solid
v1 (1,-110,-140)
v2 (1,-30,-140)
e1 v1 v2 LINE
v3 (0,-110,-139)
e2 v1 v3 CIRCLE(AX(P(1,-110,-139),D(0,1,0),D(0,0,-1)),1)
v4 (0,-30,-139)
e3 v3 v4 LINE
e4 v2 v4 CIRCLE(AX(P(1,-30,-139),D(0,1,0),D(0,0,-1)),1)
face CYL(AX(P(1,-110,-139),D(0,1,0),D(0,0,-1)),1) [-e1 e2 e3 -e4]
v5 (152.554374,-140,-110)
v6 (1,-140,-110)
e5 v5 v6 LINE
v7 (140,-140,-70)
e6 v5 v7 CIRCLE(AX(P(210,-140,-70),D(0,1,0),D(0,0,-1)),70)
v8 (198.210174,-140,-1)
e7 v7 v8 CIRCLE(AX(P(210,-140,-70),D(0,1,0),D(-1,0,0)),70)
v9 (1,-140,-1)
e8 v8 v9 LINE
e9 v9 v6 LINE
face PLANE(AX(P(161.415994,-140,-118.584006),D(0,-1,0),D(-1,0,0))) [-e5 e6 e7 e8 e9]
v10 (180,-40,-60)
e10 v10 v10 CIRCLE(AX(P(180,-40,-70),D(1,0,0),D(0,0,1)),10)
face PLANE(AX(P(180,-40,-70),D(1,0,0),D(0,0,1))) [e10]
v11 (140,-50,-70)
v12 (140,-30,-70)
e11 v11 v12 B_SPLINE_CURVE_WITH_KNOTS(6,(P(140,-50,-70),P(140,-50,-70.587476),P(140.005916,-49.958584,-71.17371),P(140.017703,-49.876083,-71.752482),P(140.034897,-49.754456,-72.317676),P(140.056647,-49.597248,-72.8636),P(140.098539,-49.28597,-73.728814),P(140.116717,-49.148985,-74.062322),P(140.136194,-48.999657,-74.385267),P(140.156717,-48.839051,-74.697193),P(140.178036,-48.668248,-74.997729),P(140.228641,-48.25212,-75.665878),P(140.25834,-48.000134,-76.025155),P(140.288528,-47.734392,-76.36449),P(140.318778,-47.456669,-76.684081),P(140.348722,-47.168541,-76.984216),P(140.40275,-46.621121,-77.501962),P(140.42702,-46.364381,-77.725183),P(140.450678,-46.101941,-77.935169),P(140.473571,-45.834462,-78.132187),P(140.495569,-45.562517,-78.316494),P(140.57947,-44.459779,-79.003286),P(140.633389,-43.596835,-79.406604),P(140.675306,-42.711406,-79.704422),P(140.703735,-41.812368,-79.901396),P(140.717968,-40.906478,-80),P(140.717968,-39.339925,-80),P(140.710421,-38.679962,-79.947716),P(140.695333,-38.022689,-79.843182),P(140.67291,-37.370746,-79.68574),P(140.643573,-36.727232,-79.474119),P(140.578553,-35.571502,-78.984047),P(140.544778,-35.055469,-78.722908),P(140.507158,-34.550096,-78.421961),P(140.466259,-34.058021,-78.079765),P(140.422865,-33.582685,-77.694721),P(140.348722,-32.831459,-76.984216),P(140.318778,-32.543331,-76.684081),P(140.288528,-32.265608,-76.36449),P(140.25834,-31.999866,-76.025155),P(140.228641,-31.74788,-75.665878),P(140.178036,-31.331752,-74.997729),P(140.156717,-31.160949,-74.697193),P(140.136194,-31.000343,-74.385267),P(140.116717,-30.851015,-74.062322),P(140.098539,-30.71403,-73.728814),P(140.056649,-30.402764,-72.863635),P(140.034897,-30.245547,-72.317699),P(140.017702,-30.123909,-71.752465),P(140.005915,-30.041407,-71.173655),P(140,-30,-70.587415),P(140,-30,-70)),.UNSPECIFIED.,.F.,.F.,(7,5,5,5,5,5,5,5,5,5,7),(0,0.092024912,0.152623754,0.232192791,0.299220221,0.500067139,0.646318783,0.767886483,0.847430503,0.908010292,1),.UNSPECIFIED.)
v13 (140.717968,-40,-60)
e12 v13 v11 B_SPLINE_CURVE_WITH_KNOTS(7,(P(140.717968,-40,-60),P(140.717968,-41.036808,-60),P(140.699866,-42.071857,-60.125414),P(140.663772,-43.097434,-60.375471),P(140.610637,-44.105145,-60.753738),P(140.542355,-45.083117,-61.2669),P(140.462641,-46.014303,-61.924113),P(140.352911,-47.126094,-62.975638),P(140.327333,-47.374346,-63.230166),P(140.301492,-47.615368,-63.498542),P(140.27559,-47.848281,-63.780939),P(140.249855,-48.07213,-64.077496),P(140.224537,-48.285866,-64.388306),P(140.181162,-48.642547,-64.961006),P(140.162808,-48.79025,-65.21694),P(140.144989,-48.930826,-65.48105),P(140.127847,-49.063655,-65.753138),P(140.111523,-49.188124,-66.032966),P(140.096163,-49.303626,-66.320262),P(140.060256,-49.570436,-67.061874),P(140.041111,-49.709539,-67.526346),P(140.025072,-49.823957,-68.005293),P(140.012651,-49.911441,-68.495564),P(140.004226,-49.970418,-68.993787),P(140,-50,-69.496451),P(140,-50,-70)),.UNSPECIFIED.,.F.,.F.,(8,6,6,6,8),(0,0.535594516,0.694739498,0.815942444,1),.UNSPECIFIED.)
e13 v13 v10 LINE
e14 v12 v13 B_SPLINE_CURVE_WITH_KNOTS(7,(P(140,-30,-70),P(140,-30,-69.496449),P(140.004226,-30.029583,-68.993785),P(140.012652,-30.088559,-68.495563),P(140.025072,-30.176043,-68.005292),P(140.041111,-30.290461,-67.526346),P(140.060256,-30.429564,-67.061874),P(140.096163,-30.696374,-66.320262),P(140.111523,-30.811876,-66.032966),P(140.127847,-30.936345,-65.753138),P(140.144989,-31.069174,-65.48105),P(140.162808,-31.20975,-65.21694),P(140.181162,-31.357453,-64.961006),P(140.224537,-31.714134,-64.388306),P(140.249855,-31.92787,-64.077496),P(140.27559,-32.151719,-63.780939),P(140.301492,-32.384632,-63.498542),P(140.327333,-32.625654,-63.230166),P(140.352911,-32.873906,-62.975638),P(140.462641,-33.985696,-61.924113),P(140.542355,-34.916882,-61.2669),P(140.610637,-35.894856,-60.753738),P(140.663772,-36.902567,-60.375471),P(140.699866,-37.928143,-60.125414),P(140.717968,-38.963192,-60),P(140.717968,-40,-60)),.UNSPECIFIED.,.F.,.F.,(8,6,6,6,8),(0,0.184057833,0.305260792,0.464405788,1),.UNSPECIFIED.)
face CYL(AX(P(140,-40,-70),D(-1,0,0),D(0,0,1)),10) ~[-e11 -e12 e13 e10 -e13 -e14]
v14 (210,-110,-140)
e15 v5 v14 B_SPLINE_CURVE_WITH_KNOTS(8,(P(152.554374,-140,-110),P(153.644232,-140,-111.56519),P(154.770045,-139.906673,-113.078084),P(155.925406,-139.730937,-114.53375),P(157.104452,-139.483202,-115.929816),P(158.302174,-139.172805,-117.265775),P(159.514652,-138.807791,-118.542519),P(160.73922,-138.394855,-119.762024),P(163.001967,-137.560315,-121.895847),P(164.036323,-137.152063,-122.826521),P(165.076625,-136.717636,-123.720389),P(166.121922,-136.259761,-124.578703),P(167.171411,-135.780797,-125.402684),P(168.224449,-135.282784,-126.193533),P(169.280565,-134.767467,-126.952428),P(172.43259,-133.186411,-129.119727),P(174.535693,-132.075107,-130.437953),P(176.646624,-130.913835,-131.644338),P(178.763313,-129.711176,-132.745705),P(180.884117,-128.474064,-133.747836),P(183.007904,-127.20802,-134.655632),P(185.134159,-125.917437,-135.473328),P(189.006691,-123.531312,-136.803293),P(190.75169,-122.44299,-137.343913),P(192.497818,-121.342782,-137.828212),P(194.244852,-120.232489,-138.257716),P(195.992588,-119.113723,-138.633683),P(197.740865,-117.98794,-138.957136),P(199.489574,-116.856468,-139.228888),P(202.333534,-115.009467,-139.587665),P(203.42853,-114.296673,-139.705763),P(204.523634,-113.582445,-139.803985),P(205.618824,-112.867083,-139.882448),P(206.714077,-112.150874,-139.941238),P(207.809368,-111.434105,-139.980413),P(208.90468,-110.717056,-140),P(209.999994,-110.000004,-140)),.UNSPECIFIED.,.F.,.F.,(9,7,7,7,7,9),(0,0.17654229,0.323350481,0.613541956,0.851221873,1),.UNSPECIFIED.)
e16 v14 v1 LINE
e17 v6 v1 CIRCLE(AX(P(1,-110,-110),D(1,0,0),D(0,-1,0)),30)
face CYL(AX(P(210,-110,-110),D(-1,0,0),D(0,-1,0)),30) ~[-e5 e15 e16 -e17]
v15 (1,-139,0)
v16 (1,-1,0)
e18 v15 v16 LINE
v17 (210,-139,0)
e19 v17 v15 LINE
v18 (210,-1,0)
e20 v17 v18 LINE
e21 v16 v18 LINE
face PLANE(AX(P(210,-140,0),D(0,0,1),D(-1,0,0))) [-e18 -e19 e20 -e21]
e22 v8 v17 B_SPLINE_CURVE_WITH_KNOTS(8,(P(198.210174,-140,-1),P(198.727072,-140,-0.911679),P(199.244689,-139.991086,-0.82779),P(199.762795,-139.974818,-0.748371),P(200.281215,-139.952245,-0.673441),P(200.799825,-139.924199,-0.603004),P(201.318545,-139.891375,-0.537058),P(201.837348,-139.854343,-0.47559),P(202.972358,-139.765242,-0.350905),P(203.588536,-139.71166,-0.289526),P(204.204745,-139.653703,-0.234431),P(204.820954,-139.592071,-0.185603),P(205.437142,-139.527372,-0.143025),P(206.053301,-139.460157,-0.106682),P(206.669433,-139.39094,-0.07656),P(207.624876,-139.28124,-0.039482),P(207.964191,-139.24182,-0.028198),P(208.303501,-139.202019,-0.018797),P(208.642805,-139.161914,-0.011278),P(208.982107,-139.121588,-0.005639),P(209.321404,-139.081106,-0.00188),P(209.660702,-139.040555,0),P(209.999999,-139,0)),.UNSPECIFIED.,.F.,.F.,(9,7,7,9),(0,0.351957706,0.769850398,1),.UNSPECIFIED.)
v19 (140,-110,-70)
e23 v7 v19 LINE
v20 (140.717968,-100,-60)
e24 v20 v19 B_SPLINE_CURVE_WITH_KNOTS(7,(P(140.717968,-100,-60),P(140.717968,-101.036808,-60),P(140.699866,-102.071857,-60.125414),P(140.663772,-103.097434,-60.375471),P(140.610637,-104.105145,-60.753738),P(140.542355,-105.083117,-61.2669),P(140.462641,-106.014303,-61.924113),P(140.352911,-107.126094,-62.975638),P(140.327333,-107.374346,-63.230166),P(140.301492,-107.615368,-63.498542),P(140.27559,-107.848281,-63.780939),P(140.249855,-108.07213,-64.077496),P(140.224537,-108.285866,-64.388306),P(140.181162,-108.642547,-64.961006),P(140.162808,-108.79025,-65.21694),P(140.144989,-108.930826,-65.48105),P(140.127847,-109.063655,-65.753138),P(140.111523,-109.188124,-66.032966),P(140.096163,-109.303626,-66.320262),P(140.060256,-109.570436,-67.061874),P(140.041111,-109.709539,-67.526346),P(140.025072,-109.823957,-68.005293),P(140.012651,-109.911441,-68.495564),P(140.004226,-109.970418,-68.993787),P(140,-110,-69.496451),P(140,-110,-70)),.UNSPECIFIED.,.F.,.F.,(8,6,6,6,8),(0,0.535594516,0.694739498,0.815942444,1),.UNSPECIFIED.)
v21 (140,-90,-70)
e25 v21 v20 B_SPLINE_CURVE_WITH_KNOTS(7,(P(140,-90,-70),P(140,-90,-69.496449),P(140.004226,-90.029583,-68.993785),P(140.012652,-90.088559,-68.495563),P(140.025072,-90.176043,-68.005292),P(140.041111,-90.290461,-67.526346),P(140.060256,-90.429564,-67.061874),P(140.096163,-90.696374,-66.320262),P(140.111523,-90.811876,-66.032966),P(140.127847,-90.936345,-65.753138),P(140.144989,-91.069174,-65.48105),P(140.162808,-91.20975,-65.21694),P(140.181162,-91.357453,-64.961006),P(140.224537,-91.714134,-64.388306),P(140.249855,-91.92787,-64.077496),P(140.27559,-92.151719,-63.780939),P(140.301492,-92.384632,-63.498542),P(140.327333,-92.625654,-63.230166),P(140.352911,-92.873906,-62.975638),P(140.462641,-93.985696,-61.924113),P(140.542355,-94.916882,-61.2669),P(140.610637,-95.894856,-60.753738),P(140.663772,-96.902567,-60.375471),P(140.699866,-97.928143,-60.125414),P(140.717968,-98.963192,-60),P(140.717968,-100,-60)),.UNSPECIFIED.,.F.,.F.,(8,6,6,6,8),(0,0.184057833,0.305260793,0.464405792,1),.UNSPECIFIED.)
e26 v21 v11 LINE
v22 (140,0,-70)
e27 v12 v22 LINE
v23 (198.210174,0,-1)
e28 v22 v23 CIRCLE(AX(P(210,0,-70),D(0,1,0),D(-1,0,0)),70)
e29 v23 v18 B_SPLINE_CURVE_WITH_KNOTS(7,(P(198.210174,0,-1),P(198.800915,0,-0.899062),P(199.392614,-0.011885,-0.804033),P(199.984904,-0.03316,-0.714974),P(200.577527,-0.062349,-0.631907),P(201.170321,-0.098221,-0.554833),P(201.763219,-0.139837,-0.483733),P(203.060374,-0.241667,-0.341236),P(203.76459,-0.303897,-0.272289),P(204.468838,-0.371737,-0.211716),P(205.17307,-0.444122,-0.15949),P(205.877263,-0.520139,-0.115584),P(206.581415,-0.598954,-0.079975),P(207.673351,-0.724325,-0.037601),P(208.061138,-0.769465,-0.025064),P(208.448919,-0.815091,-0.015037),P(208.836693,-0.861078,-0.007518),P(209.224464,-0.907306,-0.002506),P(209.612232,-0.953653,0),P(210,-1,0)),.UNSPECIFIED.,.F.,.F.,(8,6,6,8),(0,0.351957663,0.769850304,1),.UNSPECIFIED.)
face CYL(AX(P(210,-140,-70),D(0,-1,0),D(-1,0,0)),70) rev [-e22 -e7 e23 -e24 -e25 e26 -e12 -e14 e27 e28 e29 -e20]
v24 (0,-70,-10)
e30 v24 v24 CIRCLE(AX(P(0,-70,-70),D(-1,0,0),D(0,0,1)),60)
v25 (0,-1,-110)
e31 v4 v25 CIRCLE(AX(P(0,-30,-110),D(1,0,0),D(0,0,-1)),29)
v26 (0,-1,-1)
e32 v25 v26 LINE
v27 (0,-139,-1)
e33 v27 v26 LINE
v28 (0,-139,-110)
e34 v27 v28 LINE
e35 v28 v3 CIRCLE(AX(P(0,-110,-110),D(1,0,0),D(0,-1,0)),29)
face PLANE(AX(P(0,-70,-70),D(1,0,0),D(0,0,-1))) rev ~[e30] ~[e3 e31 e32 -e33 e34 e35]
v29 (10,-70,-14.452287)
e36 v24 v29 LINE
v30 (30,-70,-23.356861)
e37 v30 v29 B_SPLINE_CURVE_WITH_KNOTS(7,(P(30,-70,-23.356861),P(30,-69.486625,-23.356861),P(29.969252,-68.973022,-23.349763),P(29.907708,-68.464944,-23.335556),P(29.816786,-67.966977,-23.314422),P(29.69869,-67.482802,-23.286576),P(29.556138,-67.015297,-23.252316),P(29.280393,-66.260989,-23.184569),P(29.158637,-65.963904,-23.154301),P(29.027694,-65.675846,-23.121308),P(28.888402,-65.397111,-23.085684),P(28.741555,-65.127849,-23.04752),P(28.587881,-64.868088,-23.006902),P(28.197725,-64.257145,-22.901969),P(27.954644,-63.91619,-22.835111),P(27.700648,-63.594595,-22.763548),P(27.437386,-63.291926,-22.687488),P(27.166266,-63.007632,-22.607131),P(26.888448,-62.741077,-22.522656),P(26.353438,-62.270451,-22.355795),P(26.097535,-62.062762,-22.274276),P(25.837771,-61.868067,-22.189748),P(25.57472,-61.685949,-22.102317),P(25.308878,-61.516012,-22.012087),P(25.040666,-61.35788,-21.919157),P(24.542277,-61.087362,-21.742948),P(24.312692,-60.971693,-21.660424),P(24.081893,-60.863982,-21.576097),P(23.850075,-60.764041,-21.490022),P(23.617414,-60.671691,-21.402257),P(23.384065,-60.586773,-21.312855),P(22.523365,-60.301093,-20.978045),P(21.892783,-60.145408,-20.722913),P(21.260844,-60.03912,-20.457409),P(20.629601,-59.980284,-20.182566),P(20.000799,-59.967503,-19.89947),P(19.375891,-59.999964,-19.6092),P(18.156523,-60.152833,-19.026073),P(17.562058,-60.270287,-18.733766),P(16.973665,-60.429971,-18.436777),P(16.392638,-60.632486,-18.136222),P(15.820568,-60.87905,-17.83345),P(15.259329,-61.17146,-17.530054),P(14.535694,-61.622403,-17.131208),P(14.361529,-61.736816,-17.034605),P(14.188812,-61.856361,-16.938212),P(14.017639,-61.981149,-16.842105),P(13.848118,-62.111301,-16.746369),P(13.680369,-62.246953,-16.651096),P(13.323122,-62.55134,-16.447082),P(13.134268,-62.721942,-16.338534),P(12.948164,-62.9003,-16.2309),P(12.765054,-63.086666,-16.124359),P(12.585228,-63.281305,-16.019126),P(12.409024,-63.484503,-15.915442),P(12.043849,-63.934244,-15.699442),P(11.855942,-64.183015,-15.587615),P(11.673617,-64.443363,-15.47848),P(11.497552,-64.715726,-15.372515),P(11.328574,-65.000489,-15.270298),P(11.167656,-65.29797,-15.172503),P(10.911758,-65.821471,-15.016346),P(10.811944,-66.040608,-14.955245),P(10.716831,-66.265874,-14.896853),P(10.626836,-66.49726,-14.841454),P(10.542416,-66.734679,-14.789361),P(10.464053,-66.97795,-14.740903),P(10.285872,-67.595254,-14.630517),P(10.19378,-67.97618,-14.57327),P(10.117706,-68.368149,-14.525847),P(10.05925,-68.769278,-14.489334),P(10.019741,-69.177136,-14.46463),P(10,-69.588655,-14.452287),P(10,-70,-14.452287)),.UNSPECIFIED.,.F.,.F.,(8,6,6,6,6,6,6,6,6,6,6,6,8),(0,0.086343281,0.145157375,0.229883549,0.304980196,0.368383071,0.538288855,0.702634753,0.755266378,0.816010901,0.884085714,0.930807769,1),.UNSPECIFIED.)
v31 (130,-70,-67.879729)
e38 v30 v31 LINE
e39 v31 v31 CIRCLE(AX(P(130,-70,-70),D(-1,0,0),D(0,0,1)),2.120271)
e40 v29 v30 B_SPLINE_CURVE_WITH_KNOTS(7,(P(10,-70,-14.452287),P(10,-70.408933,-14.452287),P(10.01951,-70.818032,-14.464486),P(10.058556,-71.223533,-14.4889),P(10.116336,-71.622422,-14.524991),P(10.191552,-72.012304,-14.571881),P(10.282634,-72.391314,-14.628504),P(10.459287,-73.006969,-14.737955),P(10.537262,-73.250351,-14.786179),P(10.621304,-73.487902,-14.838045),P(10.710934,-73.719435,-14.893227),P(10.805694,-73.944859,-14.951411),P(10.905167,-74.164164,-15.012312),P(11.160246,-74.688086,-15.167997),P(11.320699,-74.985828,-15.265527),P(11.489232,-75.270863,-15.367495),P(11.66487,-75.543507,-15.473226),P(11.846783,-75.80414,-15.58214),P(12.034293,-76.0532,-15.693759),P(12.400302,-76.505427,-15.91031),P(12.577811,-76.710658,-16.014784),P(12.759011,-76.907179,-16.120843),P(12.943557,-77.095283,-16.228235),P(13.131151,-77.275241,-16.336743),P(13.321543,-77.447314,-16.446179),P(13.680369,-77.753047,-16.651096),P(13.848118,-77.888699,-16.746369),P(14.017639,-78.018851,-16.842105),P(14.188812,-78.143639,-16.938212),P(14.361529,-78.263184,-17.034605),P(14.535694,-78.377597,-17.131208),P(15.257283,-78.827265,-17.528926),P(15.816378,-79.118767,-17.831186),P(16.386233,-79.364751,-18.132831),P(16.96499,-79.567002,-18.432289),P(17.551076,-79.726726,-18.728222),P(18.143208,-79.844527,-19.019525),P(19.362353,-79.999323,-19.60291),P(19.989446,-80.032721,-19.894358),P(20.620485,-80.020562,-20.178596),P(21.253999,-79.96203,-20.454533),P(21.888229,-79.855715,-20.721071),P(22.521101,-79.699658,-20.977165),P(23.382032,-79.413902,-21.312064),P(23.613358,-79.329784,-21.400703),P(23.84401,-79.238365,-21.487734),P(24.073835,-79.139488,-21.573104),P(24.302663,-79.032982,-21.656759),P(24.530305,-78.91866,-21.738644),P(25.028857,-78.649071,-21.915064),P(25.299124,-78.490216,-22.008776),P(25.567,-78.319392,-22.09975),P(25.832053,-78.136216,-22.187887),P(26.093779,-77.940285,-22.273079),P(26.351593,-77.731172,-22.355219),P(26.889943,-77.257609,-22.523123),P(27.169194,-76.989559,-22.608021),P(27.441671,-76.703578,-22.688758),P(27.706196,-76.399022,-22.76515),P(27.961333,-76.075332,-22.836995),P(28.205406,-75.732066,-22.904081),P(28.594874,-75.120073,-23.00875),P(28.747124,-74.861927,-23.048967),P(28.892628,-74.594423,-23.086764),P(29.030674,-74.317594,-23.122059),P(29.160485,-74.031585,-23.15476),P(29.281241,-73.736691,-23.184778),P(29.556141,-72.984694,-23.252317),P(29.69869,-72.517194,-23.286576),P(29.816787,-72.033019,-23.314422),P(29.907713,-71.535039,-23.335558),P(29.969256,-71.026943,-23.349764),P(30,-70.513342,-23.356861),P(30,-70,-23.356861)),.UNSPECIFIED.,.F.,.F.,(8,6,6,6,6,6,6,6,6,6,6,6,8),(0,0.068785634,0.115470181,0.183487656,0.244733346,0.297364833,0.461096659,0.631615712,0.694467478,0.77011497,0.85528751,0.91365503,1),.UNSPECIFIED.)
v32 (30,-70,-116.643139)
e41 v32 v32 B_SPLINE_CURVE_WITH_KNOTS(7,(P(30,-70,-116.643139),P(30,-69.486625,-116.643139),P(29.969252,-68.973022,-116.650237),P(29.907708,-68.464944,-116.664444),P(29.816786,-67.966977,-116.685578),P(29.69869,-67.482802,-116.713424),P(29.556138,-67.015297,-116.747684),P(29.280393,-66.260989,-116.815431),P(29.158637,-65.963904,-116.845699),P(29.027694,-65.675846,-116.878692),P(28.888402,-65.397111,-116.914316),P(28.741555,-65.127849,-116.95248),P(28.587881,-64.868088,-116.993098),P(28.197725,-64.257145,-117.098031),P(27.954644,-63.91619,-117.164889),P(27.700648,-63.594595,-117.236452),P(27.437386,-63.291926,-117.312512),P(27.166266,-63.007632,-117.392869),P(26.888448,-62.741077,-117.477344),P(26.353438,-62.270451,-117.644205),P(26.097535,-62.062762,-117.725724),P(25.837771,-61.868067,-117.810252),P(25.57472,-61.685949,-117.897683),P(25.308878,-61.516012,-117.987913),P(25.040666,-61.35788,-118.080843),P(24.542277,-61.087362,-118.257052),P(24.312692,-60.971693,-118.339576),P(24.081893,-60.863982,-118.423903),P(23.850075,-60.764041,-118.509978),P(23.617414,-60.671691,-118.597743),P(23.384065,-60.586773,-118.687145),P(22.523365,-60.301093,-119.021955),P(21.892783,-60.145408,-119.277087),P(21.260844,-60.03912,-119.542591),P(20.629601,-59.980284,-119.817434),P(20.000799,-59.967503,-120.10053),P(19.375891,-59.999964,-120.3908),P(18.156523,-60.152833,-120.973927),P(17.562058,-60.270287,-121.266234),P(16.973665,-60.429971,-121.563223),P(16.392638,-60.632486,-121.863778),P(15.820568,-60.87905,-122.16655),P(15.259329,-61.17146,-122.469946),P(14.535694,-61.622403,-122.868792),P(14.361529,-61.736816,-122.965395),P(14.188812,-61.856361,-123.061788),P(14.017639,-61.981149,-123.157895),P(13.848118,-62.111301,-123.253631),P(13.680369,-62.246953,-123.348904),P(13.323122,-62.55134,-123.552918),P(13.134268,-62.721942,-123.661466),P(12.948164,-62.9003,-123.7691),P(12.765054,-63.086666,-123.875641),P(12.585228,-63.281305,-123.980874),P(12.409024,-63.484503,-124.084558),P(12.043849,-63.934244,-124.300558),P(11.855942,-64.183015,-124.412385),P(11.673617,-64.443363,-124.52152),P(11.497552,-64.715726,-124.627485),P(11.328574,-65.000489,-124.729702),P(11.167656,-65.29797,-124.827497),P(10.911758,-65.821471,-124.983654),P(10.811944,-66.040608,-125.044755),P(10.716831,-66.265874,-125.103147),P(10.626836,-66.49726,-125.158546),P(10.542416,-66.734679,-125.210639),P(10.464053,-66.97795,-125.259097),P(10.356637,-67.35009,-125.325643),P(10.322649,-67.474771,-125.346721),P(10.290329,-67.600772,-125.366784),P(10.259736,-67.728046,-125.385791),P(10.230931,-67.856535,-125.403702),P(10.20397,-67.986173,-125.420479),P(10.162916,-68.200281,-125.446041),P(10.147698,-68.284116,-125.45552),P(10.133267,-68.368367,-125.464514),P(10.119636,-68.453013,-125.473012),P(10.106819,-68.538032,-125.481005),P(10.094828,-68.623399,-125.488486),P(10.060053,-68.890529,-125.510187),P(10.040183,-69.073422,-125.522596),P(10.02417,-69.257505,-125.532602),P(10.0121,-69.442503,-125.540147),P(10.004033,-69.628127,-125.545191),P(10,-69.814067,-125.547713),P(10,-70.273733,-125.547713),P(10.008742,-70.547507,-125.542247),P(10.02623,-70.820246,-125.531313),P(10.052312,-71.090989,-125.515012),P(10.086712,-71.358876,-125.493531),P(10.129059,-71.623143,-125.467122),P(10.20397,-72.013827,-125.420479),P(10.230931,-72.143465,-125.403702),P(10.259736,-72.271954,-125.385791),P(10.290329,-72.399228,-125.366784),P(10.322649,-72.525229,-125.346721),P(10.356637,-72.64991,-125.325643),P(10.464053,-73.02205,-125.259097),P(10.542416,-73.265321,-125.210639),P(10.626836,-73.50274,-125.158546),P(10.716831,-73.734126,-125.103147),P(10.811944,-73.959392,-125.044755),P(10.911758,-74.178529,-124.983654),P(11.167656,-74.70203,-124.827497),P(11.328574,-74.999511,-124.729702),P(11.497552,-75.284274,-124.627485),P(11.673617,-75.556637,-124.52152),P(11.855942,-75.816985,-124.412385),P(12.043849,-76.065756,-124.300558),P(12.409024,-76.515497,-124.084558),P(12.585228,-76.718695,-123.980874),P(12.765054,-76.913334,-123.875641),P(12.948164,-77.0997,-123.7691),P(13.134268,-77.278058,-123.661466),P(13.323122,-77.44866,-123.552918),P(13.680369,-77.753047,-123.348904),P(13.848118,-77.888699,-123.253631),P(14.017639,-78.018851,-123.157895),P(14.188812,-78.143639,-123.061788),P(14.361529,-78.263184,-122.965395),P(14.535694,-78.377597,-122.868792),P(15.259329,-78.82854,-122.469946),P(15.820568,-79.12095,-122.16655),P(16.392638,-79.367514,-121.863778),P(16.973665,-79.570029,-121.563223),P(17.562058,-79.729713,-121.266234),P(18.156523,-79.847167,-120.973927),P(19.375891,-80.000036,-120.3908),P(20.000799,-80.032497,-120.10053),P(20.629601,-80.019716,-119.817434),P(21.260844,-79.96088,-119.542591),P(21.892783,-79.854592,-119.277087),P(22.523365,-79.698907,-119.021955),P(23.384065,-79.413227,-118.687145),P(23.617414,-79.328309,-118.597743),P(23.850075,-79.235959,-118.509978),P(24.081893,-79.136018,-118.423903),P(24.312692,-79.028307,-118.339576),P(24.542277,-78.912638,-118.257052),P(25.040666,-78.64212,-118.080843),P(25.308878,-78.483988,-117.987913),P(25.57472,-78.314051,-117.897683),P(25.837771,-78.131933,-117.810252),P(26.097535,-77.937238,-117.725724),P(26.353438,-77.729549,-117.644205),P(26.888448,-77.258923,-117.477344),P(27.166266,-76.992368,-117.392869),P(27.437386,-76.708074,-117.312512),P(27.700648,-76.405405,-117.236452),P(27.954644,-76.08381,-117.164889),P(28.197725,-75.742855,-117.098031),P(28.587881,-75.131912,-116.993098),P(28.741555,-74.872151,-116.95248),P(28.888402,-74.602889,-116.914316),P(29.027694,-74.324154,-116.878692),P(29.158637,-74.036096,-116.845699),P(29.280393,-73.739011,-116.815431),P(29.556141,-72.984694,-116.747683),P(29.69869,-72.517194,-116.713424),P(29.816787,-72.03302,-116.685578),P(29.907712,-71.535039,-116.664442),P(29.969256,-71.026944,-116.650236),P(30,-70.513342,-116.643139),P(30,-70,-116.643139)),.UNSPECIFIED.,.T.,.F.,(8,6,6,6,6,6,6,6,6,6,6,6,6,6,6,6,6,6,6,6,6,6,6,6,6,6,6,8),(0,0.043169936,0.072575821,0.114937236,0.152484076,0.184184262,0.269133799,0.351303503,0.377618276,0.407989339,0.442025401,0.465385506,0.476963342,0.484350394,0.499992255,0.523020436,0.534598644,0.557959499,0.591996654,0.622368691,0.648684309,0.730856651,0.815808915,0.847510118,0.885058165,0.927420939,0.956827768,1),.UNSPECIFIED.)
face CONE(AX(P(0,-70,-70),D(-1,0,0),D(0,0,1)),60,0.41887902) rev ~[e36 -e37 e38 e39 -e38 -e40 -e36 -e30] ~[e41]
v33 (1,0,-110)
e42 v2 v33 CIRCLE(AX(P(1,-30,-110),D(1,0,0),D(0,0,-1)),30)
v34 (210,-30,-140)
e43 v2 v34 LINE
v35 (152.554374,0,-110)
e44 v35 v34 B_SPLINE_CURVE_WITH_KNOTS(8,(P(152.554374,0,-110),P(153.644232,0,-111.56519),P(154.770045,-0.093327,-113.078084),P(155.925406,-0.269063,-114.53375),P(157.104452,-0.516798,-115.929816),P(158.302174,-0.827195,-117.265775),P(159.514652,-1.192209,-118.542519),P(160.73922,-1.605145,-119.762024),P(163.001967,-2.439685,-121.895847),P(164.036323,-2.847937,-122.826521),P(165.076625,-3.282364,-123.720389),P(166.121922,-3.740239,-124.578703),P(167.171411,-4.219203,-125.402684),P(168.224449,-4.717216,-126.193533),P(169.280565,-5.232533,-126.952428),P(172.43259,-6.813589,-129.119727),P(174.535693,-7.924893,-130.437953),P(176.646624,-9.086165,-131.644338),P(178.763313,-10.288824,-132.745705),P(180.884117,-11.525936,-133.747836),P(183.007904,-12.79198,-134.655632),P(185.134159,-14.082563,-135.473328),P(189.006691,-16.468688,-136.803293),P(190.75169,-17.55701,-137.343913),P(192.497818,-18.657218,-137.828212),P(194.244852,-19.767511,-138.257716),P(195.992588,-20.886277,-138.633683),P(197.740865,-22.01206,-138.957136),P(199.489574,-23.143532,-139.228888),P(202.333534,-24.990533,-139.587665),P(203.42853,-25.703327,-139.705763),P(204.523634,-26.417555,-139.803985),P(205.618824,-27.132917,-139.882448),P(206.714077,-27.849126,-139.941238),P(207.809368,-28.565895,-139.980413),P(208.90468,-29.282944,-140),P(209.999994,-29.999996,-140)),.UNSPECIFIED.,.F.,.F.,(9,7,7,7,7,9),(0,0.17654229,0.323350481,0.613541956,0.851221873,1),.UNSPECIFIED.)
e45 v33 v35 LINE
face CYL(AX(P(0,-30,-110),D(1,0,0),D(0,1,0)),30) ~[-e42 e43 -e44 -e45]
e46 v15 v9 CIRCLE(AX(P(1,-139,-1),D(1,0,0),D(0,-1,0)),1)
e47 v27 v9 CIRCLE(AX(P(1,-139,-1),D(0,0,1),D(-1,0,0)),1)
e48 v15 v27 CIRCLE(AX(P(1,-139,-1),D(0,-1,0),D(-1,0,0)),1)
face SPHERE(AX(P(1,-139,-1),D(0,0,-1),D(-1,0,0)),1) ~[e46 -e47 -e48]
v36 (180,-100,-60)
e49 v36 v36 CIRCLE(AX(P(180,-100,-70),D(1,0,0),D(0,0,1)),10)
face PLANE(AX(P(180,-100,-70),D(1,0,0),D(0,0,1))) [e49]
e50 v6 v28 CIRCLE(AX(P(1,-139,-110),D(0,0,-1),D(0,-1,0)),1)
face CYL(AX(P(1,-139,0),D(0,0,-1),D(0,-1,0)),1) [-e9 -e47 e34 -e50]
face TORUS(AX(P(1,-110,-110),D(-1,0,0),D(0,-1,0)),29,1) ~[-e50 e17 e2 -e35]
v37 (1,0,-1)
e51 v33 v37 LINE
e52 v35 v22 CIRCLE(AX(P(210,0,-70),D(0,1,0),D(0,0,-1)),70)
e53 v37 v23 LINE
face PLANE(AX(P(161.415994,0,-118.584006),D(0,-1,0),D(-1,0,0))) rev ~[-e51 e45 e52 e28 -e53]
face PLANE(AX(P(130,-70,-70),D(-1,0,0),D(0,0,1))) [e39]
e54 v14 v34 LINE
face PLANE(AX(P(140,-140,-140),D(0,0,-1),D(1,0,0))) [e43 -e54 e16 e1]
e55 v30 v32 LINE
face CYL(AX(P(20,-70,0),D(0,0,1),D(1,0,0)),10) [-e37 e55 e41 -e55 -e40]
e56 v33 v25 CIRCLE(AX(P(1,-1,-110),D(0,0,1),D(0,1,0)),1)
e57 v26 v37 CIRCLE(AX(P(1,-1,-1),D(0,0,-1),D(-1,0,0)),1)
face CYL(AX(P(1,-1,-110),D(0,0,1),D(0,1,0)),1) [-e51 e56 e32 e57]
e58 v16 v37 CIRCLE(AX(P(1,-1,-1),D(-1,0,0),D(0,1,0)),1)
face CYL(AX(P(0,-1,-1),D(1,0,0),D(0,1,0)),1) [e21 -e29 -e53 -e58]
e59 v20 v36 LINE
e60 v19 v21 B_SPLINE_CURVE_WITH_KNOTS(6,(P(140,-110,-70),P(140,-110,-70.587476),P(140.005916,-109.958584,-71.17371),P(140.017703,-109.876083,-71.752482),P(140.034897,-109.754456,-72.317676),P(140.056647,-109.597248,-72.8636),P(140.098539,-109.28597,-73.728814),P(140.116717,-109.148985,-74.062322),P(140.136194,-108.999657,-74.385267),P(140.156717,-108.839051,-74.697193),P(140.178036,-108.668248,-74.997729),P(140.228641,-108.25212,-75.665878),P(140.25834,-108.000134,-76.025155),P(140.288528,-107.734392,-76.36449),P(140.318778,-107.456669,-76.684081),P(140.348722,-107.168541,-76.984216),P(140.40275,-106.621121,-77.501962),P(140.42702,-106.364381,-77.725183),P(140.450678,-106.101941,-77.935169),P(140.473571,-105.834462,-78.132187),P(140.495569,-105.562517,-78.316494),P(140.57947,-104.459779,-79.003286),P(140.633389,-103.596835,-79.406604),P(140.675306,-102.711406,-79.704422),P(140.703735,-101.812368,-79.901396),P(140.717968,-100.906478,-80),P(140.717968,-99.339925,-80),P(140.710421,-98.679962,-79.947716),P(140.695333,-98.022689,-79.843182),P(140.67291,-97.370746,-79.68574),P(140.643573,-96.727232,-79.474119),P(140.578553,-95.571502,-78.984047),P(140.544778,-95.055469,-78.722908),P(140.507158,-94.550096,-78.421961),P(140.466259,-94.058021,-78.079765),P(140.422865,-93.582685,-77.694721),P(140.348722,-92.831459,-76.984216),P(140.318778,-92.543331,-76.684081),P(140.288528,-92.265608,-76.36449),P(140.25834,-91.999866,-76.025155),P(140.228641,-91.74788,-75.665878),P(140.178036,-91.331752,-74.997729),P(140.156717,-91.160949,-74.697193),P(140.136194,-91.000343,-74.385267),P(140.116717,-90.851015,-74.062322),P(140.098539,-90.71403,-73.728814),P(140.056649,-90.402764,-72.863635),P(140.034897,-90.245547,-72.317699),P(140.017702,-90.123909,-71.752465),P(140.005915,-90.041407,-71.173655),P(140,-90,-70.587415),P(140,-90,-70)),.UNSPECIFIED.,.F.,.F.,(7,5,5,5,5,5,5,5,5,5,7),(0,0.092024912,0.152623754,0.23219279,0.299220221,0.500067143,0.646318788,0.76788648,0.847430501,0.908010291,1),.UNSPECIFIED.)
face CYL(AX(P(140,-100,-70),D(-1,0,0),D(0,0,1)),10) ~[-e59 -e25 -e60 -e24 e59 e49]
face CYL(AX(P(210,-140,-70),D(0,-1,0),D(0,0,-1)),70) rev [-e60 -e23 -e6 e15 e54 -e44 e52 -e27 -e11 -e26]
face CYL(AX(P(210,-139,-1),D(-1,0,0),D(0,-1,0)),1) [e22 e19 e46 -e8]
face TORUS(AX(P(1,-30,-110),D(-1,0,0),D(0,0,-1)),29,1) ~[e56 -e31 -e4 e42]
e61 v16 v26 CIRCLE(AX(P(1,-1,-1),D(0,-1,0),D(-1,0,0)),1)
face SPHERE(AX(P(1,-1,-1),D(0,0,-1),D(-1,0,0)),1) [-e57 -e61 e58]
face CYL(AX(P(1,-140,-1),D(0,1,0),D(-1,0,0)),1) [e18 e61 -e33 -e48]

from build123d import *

# Parameters (mm, degrees)
SKETCH1_W           = 140
SKETCH1_H           = 140
BOSS_EXTRUDE1_DEPTH = 140
SKETCH2_R           = 60
CUT_EXTRUDE1_DEPTH  = 130
CUT_EXTRUDE1_DRAFT  = -24
SKETCH3_R           = 10
BOSS_EXTRUDE2_DEPTH = 140
BOSS_EXTRUDE3_DEPTH = 140
SKETCH5_R           = 10
BOSS_EXTRUDE4_DEPTH = 40
FILLET1_R           = 30
FILLET2_R           = 1


with BuildPart() as part:
    # Sketch1 → Boss-Extrude1 (new body)
    with BuildSketch(Plane(origin=(0, 0, 0), x_dir=(0, 0, -1), z_dir=(1, 0, 0))):
        with Locations((70, -70)):
            Rectangle(SKETCH1_W, SKETCH1_H)
    extrude(amount=BOSS_EXTRUDE1_DEPTH)


with BuildPart() as cut_extrude1_tool:
    # Sketch2 → Cut-Extrude1 (with draft: the straight prism first)
    with BuildSketch(Plane.ZY):
        with Locations((-70, -70)):
            Circle(SKETCH2_R)
    extrude(amount=-CUT_EXTRUDE1_DEPTH)
    # Cut-Extrude1: the draft: its side faces are tilted about the plane it starts from
    cut_extrude1_sides = [cut_extrude1_tool.faces().sort_by_distance(p)[0] for p in [
        (65, -70, -130),
    ]]
    draft(cut_extrude1_sides, Plane.ZY, CUT_EXTRUDE1_DRAFT)


with BuildPart() as part_1:
    add(part.part)

    # Cut-Extrude1: cut by cut_extrude1_tool
    add(cut_extrude1_tool.part, mode=Mode.SUBTRACT)

    # Sketch3 → Boss-Extrude2 (add)
    with BuildSketch(Plane.XY):
        with Locations((20, -70)):
            Circle(SKETCH3_R)
    extrude(amount=-BOSS_EXTRUDE2_DEPTH)

    # Sketch4 → Boss-Extrude3 (add)
    with BuildSketch(Plane(origin=(0, -140, 0), x_dir=(-1, 0, 0), z_dir=(0, -1, 0))):
        with BuildLine():
            ThreePointArc((-210, 140), (-160.502525317, 119.497474683), (-140, 70))
            Line((-140, 70), (-140, 140))
            Line((-140, 140), (-210, 140))
        make_face()
        with BuildLine():
            Line((-210, 0), (-140, 0))
            Line((-140, 0), (-140, 70))
            ThreePointArc((-140, 70), (-160.502525317, 20.502525317), (-210, 0))
        make_face()
    extrude(amount=-BOSS_EXTRUDE3_DEPTH)

    # Sketch5 → Boss-Extrude4 (add)
    with BuildSketch(Plane(origin=(140, 0, 0), x_dir=(0, 0, -1), z_dir=(1, 0, 0))):
        with Locations(Location((70, -100, 0), (0, 0, 180))):
            Circle(SKETCH5_R)
        with Locations(Location((70, -40, 0), (0, 0, 180))):
            Circle(SKETCH5_R)
    extrude(amount=BOSS_EXTRUDE4_DEPTH)

    # Fillet1
    fillet1_edges = [part_1.edges().sort_by_distance(p)[0] for p in [
        (105, 0, -140),
        (105, -140, -140),
    ]]
    fillet(fillet1_edges, radius=FILLET1_R)

    # Fillet2
    fillet2_edges = [part_1.edges().sort_by_distance(p)[0] for p in [
        (0, -140, -55),
        (0, -70, 0),
        (0, 0, -55),
        (0, -70, -140),
        (0, -131.213203436, -131.213203436),
        (0, -8.786796564, -131.213203436),
        (105, 0, 0),
        (105, -140, 0),
    ]]
    fillet(fillet2_edges, radius=FILLET2_R)


solid = part_1.part
